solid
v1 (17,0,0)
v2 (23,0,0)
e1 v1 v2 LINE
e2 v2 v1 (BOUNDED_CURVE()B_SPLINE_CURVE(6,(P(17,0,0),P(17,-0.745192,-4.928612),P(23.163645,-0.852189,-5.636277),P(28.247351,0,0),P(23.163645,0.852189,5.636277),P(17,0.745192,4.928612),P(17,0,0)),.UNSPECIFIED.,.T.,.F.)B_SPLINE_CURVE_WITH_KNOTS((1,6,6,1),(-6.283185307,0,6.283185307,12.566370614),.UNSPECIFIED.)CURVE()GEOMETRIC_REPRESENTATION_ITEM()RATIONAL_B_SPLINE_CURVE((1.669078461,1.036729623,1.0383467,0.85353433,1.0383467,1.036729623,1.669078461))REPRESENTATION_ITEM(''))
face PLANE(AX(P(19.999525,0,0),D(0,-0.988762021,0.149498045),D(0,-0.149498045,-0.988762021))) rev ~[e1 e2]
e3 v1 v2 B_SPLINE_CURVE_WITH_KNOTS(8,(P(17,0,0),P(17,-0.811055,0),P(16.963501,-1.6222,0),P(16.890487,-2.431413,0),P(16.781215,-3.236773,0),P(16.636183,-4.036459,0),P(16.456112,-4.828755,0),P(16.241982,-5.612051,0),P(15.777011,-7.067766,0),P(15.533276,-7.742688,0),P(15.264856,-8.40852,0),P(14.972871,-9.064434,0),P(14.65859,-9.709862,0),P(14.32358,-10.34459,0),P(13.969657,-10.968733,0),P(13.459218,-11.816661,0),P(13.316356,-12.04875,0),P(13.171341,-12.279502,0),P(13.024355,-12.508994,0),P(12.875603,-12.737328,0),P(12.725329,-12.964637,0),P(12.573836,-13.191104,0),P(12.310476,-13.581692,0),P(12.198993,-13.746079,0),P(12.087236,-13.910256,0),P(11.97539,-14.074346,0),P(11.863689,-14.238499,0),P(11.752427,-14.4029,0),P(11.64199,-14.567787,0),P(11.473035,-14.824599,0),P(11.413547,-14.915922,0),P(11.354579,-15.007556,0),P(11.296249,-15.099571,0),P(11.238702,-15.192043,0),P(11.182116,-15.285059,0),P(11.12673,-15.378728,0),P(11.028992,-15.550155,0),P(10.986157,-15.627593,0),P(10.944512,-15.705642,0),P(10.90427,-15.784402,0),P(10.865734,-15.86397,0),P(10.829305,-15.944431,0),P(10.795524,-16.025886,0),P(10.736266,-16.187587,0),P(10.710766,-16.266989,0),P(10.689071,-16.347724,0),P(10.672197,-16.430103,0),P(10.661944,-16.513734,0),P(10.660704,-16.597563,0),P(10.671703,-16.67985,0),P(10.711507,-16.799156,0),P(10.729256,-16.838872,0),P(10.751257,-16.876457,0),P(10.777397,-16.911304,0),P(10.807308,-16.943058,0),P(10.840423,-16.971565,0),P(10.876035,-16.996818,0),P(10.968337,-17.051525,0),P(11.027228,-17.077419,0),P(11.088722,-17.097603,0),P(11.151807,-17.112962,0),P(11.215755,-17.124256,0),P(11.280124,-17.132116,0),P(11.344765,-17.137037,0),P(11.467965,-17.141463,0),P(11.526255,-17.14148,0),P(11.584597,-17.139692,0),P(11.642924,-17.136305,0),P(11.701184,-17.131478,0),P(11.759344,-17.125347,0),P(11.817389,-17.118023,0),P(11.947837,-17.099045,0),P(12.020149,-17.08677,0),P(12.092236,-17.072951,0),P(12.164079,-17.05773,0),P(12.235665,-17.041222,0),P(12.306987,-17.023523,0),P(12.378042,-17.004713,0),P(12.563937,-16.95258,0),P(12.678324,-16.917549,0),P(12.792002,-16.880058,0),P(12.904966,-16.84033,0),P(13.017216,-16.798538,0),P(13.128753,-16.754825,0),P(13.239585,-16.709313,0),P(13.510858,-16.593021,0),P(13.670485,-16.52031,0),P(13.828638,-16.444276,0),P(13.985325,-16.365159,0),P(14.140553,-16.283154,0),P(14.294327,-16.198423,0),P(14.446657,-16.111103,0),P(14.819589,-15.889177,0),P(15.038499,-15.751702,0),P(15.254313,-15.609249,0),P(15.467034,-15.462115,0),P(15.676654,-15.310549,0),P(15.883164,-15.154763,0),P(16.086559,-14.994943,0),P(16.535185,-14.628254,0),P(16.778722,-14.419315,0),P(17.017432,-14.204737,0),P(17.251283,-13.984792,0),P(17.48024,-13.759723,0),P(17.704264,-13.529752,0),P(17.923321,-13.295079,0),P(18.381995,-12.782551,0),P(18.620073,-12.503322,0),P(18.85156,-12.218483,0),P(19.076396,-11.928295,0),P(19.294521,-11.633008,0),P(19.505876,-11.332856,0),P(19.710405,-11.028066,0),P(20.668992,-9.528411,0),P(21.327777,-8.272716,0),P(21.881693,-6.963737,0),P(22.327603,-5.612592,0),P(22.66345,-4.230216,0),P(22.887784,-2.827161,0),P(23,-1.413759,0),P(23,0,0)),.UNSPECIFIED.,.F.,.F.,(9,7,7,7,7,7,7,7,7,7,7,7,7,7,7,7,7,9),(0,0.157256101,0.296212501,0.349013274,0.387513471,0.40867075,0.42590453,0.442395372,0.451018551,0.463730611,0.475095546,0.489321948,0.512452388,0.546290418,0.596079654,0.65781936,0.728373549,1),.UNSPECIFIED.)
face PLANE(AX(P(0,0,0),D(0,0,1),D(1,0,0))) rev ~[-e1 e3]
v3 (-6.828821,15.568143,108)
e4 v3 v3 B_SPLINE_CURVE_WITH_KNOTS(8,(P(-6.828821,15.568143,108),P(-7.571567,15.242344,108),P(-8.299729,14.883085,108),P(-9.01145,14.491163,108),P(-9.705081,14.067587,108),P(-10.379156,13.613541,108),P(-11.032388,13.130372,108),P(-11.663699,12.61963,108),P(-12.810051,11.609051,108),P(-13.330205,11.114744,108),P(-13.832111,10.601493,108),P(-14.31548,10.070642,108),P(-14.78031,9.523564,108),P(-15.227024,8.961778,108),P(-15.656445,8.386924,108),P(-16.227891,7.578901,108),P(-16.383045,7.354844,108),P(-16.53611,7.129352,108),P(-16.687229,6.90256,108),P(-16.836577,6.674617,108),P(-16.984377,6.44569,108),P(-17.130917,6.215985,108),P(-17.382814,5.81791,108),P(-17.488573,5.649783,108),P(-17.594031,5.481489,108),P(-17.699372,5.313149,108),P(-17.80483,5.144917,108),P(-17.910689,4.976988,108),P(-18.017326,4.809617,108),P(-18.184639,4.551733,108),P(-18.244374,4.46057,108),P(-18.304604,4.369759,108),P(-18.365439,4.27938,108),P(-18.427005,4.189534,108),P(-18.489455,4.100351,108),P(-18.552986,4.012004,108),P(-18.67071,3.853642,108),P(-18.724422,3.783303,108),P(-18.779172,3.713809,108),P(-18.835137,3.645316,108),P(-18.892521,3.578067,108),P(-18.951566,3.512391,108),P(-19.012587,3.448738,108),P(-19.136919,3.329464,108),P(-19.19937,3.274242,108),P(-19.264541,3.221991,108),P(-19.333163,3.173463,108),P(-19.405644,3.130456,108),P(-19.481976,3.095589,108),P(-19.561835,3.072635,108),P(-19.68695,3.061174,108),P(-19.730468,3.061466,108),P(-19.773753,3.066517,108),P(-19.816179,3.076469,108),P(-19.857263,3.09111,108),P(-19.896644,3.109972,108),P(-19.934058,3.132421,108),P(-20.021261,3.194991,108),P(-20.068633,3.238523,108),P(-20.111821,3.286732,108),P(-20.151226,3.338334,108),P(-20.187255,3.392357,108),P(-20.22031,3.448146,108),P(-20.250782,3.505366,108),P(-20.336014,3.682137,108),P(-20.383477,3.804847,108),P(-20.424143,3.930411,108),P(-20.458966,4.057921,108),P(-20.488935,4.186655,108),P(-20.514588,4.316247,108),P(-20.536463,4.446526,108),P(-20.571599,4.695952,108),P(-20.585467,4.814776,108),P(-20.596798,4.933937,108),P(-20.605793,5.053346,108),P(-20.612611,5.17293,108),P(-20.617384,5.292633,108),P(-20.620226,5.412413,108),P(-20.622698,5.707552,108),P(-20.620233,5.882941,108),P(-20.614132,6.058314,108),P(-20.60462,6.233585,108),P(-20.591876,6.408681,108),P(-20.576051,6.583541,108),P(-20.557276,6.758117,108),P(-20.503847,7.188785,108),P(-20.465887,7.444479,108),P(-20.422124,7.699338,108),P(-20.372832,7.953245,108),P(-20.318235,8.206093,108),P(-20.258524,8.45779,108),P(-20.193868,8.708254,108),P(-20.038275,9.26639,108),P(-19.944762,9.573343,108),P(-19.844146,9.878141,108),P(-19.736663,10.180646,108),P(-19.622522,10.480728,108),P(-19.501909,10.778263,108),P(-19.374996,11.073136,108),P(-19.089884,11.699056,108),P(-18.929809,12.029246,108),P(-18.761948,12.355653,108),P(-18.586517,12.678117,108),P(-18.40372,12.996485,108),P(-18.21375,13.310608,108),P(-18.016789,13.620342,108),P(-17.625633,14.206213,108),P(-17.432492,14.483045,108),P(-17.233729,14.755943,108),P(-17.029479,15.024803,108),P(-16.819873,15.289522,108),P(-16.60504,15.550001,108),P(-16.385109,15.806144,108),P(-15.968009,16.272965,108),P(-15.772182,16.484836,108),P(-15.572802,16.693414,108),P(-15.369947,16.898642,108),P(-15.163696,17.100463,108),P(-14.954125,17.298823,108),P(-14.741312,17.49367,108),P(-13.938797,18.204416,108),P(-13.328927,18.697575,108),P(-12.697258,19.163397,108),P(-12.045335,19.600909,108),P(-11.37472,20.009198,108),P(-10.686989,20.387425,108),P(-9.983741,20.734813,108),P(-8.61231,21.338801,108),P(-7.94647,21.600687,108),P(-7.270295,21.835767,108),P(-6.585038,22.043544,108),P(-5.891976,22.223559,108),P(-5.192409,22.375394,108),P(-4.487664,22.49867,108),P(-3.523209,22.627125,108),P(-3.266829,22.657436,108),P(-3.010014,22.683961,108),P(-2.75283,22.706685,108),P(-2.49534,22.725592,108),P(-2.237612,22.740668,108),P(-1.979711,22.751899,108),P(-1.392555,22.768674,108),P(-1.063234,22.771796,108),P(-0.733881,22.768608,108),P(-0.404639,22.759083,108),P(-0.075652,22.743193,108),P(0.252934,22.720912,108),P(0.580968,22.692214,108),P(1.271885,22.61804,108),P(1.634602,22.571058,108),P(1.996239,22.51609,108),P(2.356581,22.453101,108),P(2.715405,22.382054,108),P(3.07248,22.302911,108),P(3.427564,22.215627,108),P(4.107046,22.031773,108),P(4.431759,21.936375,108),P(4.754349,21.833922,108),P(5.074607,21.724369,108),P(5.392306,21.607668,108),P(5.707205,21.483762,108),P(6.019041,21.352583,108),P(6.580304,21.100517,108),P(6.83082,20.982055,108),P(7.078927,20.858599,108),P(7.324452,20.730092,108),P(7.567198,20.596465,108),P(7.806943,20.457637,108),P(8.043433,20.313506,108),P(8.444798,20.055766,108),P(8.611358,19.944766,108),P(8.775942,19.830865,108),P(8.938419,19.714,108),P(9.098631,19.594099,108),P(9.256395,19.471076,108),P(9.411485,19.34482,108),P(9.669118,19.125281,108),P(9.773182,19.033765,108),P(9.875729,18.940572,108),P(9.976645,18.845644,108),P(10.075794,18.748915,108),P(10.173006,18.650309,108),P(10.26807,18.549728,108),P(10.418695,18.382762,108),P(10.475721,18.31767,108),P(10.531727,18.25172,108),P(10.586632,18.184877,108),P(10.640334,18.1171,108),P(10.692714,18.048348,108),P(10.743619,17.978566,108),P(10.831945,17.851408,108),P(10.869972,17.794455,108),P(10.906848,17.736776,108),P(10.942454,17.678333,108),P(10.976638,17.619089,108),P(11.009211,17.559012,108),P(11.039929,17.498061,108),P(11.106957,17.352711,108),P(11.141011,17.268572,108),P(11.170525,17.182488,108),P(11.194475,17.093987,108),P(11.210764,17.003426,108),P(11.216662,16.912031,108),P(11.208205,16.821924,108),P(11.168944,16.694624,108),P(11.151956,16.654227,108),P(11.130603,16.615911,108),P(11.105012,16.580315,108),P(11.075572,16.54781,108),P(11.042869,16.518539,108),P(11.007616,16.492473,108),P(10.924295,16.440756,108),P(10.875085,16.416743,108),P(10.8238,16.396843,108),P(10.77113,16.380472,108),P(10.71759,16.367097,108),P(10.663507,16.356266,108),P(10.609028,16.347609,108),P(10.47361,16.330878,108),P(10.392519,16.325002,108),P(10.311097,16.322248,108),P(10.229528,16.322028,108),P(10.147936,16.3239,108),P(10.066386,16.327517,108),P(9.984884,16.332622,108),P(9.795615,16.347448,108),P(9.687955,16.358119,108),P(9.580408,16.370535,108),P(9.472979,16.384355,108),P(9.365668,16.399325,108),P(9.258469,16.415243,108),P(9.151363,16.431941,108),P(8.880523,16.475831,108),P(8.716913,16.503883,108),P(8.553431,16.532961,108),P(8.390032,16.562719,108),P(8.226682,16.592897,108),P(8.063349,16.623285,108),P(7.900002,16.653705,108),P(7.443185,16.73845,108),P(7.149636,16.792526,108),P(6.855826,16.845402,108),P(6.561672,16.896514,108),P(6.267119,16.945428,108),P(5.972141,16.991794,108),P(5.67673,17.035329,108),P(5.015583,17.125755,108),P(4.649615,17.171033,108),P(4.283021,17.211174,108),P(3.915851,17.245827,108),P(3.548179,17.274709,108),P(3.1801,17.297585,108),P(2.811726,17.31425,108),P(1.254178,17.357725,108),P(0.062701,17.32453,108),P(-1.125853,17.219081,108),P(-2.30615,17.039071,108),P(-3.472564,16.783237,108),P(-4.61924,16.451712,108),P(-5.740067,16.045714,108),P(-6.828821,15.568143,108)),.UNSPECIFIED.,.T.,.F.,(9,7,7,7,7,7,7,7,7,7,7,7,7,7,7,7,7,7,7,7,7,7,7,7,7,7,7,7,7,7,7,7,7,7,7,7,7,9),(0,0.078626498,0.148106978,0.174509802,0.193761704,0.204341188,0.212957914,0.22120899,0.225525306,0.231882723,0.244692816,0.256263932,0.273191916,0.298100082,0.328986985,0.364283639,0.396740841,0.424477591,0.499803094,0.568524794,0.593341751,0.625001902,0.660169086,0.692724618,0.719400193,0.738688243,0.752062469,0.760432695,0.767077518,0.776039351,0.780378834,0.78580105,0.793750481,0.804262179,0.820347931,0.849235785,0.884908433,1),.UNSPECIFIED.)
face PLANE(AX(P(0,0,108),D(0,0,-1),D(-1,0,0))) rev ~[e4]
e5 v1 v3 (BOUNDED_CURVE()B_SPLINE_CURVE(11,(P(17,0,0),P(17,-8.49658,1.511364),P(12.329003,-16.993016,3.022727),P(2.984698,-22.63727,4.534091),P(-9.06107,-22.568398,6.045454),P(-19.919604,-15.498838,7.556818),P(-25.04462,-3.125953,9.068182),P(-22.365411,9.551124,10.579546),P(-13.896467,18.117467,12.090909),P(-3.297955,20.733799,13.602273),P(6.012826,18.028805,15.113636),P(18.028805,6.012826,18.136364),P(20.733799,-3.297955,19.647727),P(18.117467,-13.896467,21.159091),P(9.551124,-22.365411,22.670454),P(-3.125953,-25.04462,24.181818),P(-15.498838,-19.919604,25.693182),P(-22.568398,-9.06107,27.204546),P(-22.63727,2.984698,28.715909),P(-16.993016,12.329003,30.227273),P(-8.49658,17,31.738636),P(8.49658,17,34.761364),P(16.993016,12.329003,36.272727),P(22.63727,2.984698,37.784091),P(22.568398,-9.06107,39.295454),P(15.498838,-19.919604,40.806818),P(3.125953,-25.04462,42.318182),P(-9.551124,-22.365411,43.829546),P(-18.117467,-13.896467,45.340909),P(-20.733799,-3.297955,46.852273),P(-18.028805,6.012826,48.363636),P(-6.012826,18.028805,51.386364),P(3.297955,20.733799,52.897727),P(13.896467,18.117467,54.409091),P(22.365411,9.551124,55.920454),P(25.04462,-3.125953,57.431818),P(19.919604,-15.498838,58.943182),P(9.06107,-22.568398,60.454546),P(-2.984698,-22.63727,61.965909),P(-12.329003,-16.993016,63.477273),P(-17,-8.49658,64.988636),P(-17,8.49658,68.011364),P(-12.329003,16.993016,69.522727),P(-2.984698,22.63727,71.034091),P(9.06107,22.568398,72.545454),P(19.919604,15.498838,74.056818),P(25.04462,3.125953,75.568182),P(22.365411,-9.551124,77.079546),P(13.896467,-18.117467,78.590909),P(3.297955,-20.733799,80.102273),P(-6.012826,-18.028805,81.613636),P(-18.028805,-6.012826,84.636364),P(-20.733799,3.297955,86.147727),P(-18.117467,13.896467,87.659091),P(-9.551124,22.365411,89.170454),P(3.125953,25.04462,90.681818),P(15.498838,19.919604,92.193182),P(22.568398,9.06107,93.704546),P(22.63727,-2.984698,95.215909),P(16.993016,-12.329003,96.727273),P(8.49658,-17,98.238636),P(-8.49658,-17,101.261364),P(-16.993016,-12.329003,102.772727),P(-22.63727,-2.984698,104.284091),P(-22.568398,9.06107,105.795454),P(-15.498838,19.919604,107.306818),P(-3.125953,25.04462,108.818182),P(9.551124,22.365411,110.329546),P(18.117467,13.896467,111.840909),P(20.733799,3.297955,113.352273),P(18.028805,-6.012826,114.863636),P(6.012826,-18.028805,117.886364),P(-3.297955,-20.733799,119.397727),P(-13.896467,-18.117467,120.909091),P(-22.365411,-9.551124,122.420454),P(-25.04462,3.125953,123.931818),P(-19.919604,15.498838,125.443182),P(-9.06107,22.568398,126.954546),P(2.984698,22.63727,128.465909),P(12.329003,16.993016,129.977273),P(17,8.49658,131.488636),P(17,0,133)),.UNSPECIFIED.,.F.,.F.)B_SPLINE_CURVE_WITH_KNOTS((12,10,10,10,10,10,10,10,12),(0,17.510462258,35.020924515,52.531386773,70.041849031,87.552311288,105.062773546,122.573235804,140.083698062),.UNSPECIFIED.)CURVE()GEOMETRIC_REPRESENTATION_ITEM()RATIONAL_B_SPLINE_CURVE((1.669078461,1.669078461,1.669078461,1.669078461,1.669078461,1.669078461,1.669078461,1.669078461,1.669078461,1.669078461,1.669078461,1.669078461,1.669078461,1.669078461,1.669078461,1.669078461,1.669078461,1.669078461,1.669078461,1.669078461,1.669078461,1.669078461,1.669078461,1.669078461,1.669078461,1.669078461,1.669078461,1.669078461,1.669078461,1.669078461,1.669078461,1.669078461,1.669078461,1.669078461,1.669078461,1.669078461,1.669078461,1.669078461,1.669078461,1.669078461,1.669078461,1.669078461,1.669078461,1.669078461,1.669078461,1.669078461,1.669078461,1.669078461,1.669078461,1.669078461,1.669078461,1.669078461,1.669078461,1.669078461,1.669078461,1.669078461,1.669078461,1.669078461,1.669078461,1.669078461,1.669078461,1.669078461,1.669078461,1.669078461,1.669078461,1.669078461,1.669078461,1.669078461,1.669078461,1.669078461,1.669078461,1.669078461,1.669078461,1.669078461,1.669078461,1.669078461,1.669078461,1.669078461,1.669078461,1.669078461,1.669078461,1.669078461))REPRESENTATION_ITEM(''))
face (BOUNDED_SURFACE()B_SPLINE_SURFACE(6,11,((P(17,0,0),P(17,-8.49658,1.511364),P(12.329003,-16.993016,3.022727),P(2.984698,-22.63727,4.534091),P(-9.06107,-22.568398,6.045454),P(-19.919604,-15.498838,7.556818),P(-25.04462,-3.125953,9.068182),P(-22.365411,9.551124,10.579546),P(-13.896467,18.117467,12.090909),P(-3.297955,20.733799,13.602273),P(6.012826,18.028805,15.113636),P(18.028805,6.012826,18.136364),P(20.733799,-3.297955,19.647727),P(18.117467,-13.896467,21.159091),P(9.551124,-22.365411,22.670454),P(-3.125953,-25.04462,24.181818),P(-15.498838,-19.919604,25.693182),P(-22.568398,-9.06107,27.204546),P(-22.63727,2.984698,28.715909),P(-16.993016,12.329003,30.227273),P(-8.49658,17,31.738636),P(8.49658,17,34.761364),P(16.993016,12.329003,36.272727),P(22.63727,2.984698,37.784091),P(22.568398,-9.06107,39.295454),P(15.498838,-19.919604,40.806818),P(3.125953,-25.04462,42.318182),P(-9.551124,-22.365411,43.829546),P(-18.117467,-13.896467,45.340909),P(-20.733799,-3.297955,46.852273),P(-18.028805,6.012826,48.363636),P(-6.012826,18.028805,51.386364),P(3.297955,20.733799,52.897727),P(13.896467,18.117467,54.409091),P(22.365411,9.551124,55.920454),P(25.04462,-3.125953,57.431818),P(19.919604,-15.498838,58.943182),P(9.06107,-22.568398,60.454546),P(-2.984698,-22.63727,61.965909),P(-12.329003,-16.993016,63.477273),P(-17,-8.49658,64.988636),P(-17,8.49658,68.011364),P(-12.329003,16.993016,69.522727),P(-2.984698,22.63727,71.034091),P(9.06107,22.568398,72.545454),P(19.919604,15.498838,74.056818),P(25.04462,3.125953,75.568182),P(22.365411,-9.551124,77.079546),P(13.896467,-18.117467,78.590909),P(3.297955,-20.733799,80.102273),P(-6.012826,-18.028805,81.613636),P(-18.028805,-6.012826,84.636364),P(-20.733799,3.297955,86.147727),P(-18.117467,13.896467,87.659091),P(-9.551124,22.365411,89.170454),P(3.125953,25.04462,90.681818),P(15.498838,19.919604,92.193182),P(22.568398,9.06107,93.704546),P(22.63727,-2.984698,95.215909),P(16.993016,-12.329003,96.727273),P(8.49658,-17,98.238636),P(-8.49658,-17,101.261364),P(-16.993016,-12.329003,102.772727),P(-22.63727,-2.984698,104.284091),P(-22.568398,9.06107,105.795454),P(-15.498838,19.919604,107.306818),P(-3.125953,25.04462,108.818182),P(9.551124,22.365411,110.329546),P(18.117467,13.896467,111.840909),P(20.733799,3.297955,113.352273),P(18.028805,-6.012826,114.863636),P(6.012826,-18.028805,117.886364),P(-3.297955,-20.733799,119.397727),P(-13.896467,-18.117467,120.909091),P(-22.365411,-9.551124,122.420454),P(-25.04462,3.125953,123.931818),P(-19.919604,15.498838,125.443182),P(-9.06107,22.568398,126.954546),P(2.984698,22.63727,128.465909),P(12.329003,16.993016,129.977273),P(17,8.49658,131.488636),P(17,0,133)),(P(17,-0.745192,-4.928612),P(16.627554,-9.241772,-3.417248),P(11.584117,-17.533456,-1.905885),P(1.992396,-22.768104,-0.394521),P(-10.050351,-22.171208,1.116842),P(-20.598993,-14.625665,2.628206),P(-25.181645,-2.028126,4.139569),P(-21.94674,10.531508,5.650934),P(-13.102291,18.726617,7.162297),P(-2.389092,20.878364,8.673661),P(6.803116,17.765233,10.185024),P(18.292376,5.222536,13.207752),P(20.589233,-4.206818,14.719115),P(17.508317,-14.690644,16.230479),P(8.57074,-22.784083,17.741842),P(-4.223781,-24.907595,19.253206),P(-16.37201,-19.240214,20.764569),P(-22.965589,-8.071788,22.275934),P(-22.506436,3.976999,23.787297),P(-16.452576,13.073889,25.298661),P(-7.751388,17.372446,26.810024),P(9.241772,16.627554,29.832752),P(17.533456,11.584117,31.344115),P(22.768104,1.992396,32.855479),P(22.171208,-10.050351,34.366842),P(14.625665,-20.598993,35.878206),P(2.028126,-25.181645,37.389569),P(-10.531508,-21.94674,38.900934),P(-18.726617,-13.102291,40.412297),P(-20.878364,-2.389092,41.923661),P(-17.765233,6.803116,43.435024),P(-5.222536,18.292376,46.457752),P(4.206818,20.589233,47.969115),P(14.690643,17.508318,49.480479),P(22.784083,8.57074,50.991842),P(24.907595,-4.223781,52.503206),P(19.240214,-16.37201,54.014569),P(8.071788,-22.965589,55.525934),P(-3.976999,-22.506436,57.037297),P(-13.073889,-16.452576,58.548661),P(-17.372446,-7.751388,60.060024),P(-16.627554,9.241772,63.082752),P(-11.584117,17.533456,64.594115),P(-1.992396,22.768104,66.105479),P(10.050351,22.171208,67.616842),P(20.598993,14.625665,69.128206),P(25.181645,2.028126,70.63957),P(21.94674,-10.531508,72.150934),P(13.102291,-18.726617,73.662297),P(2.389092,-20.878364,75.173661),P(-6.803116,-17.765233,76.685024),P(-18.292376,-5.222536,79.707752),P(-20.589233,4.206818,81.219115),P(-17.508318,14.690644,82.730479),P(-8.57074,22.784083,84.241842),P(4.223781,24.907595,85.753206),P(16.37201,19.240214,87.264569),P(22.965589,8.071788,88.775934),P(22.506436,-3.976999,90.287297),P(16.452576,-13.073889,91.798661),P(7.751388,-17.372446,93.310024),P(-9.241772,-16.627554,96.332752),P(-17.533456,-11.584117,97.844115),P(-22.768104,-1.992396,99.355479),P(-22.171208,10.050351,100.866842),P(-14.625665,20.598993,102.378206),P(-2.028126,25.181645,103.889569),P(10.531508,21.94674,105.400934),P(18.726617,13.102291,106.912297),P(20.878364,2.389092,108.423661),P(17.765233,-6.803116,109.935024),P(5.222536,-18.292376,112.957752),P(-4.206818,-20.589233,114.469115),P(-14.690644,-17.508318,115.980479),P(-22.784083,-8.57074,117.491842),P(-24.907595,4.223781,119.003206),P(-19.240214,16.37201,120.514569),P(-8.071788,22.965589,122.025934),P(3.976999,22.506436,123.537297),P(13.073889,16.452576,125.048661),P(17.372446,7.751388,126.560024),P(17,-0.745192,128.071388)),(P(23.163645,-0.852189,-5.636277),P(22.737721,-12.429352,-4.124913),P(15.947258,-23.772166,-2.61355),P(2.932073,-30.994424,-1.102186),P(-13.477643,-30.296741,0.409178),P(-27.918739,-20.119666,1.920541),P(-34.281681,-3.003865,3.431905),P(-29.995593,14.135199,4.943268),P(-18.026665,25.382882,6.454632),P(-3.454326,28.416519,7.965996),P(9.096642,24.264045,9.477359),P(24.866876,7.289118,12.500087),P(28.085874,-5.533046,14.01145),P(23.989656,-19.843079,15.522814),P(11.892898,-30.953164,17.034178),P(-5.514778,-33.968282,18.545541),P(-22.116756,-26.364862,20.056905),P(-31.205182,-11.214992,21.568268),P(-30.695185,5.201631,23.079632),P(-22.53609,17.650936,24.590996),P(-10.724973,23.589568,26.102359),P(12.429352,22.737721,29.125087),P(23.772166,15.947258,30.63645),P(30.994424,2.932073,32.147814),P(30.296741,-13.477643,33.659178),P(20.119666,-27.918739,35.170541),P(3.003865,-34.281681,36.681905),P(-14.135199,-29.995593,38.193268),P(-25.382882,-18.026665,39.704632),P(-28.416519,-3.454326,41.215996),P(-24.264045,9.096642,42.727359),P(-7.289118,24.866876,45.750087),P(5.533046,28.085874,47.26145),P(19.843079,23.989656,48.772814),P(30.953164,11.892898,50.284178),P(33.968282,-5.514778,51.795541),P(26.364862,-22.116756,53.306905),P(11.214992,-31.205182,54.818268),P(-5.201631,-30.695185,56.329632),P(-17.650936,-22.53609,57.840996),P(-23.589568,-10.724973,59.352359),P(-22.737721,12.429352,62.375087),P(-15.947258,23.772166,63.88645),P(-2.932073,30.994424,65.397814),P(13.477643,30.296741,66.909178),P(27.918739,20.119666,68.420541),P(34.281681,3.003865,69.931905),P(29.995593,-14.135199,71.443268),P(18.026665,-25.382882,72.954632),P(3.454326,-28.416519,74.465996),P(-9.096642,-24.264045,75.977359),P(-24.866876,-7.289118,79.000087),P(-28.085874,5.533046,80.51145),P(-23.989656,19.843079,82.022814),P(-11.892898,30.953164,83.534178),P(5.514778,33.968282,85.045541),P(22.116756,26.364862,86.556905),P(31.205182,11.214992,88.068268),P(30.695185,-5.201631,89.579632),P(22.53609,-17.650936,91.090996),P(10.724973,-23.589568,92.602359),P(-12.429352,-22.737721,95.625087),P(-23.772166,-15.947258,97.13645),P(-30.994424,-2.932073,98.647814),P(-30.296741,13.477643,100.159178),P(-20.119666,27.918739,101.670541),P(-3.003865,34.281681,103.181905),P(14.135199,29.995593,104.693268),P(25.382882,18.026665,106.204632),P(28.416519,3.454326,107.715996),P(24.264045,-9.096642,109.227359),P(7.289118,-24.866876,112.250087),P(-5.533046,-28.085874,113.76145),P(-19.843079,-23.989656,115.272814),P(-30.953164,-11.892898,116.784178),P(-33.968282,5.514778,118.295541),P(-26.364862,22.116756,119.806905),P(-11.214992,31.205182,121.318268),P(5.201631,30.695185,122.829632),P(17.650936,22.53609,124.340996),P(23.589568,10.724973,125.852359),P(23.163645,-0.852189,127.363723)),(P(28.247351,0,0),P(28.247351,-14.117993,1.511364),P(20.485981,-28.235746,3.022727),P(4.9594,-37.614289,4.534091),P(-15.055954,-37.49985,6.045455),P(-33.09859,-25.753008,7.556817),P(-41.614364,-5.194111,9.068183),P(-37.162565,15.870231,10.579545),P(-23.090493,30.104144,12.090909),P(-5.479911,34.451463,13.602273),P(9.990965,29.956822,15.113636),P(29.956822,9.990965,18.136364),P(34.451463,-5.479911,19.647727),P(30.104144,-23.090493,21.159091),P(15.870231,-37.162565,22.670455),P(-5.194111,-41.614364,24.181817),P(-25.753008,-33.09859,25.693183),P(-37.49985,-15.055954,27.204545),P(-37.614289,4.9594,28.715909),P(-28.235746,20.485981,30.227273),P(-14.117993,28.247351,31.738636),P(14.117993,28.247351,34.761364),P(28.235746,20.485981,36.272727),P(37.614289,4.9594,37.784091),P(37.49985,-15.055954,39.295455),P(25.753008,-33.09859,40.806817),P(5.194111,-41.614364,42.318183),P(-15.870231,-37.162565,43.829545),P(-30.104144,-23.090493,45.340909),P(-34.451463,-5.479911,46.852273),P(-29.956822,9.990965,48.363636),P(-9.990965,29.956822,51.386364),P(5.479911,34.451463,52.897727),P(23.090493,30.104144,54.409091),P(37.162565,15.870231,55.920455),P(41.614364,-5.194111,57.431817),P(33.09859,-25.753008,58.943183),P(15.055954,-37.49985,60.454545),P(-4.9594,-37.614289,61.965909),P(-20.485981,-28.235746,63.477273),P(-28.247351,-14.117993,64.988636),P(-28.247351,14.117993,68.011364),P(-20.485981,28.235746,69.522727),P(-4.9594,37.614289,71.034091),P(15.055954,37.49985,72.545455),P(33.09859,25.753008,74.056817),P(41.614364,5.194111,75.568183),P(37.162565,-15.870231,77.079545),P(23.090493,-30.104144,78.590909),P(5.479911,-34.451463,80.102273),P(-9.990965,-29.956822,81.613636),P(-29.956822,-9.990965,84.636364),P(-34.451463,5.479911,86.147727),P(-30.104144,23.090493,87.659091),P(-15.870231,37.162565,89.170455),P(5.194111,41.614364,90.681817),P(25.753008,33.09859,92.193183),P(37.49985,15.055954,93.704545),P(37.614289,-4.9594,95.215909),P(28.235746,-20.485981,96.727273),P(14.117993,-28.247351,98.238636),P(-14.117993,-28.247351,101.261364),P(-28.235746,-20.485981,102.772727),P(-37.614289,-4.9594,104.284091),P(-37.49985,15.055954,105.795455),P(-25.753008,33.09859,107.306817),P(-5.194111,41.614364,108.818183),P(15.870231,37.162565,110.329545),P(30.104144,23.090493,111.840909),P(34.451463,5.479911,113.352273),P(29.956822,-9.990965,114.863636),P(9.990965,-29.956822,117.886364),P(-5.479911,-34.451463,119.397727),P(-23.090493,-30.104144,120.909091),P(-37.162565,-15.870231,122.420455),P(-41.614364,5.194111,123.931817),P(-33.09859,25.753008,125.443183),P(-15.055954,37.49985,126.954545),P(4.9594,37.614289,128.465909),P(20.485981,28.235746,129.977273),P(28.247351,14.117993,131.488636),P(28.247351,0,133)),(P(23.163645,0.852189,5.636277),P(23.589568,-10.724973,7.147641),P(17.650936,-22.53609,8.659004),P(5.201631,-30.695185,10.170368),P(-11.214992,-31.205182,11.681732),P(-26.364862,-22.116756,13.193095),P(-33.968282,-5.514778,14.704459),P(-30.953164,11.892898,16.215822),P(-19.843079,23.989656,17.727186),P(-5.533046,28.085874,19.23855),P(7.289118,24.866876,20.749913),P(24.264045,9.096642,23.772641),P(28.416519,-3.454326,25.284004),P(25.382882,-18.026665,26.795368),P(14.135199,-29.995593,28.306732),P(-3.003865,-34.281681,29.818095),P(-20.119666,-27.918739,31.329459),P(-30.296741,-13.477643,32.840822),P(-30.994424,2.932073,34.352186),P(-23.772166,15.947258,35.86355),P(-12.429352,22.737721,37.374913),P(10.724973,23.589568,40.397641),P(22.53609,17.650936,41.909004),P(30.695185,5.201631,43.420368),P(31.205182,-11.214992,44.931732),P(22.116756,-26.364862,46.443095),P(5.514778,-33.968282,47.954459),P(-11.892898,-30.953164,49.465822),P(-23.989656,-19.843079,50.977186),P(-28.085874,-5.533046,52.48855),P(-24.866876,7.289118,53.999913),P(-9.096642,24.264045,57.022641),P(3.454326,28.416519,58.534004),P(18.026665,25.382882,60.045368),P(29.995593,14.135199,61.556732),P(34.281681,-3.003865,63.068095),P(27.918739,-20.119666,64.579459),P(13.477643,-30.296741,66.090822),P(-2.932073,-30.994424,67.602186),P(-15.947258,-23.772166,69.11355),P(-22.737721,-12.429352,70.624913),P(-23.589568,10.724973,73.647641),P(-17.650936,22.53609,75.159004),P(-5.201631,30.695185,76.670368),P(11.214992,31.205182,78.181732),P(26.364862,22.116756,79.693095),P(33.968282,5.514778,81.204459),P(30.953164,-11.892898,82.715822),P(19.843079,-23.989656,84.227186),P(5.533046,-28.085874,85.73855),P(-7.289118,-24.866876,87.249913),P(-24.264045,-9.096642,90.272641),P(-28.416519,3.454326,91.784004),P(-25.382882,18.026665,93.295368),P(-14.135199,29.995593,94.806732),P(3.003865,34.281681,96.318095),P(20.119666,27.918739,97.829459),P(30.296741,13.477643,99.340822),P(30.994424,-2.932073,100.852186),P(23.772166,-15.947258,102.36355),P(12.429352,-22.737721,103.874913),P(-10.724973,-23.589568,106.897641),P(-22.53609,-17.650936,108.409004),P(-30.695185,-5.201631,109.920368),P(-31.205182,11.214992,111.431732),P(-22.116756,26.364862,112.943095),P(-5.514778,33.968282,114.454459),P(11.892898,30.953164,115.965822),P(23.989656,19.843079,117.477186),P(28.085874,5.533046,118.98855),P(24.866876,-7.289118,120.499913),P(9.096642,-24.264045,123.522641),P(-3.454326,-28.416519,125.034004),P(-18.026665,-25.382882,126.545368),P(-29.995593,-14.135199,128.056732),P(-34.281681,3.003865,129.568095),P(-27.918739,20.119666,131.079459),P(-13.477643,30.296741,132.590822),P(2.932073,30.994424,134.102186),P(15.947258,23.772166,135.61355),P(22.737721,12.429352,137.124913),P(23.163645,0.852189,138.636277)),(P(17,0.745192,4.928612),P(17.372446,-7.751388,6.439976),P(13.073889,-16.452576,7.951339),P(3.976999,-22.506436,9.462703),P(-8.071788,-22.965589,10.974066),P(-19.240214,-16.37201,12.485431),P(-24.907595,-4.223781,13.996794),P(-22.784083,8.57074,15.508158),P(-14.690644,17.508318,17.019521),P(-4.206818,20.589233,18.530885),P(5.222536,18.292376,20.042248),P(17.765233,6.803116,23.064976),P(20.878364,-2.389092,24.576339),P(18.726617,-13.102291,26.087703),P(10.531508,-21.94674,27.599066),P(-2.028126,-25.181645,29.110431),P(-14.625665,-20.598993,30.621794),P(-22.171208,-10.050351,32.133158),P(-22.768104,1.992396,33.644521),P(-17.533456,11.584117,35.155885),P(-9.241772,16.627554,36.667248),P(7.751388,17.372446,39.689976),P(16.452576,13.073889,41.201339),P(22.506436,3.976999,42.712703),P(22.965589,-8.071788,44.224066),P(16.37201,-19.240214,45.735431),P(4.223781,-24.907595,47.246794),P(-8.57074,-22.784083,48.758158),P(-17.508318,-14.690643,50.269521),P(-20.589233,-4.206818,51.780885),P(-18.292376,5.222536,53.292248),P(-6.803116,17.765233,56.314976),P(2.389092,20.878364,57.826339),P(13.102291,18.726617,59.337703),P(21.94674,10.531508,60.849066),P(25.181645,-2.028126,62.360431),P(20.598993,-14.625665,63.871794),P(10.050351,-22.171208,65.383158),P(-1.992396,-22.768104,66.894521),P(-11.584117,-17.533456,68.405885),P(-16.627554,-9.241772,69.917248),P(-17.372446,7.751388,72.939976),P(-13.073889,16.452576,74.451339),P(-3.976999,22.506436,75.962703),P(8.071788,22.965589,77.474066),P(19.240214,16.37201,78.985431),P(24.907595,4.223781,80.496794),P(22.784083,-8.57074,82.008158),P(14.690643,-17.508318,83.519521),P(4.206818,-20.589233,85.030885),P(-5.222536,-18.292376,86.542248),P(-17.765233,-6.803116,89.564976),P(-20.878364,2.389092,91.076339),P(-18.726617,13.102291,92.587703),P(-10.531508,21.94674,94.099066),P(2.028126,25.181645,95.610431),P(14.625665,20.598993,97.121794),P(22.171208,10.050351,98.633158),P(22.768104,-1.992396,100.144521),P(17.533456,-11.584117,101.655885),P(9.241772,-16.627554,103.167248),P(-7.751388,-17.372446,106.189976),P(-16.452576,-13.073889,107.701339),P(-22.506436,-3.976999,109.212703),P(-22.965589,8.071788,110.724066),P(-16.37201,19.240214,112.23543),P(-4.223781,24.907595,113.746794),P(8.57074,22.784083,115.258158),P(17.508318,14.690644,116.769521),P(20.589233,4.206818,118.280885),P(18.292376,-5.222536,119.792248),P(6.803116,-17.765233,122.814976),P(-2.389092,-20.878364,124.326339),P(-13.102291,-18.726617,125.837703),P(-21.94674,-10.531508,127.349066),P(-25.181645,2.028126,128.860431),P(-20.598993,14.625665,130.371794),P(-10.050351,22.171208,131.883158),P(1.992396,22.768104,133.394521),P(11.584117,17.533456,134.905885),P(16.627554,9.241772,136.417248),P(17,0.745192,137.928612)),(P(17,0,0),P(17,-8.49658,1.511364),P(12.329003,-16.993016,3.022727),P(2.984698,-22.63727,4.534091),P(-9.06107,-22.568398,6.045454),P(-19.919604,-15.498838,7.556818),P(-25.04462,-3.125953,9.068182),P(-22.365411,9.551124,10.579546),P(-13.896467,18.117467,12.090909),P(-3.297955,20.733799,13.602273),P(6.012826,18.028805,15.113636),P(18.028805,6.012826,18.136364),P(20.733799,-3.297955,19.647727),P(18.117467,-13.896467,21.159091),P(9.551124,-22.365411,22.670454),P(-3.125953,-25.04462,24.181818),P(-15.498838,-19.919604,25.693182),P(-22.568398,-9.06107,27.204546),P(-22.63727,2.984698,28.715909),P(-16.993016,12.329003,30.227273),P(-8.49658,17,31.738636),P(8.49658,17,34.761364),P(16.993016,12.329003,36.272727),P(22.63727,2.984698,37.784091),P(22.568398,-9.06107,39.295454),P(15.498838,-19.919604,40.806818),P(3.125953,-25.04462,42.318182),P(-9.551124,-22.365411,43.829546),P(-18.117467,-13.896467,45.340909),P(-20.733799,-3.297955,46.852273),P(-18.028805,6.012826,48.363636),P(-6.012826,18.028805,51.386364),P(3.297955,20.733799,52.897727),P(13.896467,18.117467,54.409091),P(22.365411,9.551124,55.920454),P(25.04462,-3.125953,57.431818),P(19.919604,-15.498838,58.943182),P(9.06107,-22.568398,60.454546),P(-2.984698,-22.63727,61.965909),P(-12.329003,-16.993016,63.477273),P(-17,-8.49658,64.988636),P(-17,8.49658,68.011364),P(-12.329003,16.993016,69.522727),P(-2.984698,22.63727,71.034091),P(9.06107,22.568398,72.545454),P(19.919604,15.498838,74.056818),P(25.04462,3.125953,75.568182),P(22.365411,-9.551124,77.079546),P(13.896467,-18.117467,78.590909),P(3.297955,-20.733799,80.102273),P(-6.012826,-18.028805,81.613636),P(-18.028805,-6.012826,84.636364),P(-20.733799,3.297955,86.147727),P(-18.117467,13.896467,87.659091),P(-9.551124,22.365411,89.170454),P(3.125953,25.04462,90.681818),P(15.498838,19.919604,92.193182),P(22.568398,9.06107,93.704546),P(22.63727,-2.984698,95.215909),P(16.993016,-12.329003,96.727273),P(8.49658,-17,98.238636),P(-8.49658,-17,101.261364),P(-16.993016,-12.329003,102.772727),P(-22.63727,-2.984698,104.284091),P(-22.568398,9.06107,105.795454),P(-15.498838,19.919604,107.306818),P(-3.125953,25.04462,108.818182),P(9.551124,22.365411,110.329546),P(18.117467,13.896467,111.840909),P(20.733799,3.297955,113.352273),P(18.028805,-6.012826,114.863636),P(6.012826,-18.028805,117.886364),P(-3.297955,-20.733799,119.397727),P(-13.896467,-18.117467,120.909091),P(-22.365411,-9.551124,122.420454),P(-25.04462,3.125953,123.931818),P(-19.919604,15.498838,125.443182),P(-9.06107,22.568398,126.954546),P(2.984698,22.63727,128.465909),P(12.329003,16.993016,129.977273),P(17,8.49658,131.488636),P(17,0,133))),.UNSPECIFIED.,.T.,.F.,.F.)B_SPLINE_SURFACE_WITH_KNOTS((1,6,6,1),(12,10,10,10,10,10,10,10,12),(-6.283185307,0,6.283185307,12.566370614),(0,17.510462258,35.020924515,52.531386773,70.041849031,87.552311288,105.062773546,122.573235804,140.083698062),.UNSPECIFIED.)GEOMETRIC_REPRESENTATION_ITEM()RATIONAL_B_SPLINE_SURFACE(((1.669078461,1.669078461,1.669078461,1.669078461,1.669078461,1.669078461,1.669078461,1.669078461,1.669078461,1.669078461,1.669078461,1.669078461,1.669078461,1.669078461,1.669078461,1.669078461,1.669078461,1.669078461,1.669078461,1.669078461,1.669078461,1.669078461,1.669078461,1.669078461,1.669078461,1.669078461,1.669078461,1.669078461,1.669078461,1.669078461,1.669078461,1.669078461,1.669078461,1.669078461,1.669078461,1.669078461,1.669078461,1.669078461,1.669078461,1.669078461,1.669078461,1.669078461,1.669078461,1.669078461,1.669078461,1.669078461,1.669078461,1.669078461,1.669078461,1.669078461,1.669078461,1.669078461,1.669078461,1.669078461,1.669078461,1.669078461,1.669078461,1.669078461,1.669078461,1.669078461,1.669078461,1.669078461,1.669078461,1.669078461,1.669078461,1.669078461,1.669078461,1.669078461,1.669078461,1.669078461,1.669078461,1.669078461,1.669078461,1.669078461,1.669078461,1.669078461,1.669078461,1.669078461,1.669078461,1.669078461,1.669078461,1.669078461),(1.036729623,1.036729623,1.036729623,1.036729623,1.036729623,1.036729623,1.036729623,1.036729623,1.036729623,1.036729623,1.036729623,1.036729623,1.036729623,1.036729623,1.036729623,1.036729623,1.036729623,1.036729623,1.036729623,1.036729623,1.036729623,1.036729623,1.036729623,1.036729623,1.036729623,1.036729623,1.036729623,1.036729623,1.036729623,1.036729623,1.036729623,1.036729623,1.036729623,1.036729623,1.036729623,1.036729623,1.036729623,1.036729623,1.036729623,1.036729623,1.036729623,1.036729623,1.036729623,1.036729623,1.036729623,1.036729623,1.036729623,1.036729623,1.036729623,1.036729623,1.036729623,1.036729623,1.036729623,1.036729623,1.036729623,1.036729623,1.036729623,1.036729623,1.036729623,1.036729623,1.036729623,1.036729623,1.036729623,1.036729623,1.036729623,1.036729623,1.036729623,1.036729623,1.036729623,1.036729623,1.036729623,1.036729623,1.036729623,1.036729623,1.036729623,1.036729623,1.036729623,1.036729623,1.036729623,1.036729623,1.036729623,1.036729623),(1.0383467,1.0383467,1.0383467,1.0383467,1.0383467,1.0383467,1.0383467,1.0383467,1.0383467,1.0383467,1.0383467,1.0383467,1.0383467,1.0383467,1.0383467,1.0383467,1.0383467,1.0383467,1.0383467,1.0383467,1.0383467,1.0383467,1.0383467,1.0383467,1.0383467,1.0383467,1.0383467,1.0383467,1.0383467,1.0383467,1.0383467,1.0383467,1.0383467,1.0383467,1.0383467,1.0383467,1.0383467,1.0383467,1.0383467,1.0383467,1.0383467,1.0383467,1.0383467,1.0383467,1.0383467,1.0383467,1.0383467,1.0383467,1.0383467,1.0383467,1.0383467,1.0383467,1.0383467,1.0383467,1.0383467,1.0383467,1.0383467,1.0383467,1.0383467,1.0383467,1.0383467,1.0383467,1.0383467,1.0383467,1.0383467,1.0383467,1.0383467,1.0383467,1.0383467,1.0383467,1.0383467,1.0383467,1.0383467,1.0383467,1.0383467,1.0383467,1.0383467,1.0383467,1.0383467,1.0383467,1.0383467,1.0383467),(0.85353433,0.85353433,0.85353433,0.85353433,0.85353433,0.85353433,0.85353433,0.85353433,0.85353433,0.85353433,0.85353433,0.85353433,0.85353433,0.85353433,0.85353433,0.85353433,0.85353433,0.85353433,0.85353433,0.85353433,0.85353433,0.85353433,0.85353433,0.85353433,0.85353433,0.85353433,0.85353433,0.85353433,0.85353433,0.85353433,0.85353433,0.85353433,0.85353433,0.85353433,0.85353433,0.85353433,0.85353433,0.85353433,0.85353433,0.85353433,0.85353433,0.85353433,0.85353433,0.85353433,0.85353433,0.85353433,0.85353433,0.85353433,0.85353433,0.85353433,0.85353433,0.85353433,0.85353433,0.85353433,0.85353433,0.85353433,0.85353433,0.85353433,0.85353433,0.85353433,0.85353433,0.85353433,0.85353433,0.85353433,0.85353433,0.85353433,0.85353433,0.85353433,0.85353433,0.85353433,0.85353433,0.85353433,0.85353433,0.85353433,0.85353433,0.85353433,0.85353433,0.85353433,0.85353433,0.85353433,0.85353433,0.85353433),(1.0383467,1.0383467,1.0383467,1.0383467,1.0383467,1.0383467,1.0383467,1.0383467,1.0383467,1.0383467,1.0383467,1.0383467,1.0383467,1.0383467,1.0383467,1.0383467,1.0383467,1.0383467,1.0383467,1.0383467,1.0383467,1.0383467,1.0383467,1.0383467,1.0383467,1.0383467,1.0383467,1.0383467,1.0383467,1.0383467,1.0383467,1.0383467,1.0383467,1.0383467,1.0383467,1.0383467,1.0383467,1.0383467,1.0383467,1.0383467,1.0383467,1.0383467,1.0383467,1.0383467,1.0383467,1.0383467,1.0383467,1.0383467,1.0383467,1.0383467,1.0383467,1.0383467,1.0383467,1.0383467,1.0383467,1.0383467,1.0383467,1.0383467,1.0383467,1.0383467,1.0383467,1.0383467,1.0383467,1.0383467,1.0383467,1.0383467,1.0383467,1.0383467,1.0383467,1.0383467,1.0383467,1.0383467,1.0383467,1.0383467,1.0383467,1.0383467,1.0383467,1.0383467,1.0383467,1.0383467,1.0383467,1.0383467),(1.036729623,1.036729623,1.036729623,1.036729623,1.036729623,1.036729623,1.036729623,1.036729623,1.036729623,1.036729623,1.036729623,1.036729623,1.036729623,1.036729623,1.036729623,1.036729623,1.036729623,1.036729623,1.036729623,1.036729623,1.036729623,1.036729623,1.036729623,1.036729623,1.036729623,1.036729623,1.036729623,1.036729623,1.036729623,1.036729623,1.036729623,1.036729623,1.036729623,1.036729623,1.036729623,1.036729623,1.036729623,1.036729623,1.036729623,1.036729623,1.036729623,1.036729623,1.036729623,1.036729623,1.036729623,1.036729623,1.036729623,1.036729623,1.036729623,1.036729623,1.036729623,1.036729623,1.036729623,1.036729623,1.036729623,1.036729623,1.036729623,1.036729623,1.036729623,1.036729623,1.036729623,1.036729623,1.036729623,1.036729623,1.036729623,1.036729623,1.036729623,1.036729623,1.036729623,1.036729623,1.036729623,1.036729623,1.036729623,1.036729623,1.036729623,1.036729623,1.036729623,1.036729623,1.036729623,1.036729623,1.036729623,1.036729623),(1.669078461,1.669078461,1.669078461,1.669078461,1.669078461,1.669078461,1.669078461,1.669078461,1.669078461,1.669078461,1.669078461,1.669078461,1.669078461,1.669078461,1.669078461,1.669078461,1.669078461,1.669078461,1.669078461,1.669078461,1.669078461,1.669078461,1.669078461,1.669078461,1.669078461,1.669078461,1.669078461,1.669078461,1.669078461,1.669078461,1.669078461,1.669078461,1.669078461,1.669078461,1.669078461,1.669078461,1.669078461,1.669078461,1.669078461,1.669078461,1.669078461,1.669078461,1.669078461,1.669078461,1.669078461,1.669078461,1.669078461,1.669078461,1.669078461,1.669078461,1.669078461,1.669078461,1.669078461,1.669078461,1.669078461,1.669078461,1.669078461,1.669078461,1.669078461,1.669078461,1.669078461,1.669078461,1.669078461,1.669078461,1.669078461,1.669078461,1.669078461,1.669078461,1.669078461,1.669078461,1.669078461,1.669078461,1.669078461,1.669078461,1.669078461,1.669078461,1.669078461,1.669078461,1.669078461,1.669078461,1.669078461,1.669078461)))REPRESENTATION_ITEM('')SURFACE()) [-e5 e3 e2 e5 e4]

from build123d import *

# Parameters (mm, degrees)
SWEEP2_PITCH       = 19
SWEEP2_HEIGHT      = 133
SWEEP2_RADIUS      = 20
SKETCH83_R         = 3
CUT_EXTRUDE3_REACH = 141.803
SKETCH85_W         = 70
SKETCH85_H         = 70
CUT_EXTRUDE4_REACH = 117.635
SKETCH86_W         = 70
SKETCH86_H         = 70


with BuildPart() as part:
    # Sweep2: sweep along a helix
    with BuildLine() as sweep2_path:
        Helix(SWEEP2_PITCH, SWEEP2_HEIGHT, SWEEP2_RADIUS, center=(0, 0, 0), direction=(0, 0, 1), lefthand=True)
    # Sketch83 → Sweep2 (sweep)
    with BuildSketch(Plane(origin=(20, 0, 0), x_dir=(-1, 0, 0), z_dir=(-1.6328743068519001e-15, -0.9887620211788911, 0.14949804505154585))):
        Circle(SKETCH83_R)
    sweep(path=sweep2_path.line, is_frenet=True)

    # Sketch85 → Cut-Extrude3 (cut, up to next)
    with BuildSketch(Plane.XY, mode=Mode.PRIVATE) as cut_extrude3_sk1:
        Rectangle(SKETCH85_W, SKETCH85_H)
    cut_extrude3_tool1 = extrude(cut_extrude3_sk1.sketch, amount=-CUT_EXTRUDE3_REACH, mode=Mode.PRIVATE) & part.part
    add(cut_extrude3_tool1.solids().sort_by_distance((0, 0, 0))[0], mode=Mode.SUBTRACT)

    # Sketch86 → Cut-Extrude4 (cut, up to next)
    with BuildSketch(Plane(origin=(0, 0, 108), x_dir=(-1, 0, 0), z_dir=(0, 0, -1)), mode=Mode.PRIVATE) as cut_extrude4_sk1:
        Rectangle(SKETCH86_W, SKETCH86_H)
    cut_extrude4_tool1 = extrude(cut_extrude4_sk1.sketch, amount=-CUT_EXTRUDE4_REACH, mode=Mode.PRIVATE) & part.part
    add(cut_extrude4_tool1.solids().sort_by_distance((0, 0, 108))[0], mode=Mode.SUBTRACT)


solid = part.part
